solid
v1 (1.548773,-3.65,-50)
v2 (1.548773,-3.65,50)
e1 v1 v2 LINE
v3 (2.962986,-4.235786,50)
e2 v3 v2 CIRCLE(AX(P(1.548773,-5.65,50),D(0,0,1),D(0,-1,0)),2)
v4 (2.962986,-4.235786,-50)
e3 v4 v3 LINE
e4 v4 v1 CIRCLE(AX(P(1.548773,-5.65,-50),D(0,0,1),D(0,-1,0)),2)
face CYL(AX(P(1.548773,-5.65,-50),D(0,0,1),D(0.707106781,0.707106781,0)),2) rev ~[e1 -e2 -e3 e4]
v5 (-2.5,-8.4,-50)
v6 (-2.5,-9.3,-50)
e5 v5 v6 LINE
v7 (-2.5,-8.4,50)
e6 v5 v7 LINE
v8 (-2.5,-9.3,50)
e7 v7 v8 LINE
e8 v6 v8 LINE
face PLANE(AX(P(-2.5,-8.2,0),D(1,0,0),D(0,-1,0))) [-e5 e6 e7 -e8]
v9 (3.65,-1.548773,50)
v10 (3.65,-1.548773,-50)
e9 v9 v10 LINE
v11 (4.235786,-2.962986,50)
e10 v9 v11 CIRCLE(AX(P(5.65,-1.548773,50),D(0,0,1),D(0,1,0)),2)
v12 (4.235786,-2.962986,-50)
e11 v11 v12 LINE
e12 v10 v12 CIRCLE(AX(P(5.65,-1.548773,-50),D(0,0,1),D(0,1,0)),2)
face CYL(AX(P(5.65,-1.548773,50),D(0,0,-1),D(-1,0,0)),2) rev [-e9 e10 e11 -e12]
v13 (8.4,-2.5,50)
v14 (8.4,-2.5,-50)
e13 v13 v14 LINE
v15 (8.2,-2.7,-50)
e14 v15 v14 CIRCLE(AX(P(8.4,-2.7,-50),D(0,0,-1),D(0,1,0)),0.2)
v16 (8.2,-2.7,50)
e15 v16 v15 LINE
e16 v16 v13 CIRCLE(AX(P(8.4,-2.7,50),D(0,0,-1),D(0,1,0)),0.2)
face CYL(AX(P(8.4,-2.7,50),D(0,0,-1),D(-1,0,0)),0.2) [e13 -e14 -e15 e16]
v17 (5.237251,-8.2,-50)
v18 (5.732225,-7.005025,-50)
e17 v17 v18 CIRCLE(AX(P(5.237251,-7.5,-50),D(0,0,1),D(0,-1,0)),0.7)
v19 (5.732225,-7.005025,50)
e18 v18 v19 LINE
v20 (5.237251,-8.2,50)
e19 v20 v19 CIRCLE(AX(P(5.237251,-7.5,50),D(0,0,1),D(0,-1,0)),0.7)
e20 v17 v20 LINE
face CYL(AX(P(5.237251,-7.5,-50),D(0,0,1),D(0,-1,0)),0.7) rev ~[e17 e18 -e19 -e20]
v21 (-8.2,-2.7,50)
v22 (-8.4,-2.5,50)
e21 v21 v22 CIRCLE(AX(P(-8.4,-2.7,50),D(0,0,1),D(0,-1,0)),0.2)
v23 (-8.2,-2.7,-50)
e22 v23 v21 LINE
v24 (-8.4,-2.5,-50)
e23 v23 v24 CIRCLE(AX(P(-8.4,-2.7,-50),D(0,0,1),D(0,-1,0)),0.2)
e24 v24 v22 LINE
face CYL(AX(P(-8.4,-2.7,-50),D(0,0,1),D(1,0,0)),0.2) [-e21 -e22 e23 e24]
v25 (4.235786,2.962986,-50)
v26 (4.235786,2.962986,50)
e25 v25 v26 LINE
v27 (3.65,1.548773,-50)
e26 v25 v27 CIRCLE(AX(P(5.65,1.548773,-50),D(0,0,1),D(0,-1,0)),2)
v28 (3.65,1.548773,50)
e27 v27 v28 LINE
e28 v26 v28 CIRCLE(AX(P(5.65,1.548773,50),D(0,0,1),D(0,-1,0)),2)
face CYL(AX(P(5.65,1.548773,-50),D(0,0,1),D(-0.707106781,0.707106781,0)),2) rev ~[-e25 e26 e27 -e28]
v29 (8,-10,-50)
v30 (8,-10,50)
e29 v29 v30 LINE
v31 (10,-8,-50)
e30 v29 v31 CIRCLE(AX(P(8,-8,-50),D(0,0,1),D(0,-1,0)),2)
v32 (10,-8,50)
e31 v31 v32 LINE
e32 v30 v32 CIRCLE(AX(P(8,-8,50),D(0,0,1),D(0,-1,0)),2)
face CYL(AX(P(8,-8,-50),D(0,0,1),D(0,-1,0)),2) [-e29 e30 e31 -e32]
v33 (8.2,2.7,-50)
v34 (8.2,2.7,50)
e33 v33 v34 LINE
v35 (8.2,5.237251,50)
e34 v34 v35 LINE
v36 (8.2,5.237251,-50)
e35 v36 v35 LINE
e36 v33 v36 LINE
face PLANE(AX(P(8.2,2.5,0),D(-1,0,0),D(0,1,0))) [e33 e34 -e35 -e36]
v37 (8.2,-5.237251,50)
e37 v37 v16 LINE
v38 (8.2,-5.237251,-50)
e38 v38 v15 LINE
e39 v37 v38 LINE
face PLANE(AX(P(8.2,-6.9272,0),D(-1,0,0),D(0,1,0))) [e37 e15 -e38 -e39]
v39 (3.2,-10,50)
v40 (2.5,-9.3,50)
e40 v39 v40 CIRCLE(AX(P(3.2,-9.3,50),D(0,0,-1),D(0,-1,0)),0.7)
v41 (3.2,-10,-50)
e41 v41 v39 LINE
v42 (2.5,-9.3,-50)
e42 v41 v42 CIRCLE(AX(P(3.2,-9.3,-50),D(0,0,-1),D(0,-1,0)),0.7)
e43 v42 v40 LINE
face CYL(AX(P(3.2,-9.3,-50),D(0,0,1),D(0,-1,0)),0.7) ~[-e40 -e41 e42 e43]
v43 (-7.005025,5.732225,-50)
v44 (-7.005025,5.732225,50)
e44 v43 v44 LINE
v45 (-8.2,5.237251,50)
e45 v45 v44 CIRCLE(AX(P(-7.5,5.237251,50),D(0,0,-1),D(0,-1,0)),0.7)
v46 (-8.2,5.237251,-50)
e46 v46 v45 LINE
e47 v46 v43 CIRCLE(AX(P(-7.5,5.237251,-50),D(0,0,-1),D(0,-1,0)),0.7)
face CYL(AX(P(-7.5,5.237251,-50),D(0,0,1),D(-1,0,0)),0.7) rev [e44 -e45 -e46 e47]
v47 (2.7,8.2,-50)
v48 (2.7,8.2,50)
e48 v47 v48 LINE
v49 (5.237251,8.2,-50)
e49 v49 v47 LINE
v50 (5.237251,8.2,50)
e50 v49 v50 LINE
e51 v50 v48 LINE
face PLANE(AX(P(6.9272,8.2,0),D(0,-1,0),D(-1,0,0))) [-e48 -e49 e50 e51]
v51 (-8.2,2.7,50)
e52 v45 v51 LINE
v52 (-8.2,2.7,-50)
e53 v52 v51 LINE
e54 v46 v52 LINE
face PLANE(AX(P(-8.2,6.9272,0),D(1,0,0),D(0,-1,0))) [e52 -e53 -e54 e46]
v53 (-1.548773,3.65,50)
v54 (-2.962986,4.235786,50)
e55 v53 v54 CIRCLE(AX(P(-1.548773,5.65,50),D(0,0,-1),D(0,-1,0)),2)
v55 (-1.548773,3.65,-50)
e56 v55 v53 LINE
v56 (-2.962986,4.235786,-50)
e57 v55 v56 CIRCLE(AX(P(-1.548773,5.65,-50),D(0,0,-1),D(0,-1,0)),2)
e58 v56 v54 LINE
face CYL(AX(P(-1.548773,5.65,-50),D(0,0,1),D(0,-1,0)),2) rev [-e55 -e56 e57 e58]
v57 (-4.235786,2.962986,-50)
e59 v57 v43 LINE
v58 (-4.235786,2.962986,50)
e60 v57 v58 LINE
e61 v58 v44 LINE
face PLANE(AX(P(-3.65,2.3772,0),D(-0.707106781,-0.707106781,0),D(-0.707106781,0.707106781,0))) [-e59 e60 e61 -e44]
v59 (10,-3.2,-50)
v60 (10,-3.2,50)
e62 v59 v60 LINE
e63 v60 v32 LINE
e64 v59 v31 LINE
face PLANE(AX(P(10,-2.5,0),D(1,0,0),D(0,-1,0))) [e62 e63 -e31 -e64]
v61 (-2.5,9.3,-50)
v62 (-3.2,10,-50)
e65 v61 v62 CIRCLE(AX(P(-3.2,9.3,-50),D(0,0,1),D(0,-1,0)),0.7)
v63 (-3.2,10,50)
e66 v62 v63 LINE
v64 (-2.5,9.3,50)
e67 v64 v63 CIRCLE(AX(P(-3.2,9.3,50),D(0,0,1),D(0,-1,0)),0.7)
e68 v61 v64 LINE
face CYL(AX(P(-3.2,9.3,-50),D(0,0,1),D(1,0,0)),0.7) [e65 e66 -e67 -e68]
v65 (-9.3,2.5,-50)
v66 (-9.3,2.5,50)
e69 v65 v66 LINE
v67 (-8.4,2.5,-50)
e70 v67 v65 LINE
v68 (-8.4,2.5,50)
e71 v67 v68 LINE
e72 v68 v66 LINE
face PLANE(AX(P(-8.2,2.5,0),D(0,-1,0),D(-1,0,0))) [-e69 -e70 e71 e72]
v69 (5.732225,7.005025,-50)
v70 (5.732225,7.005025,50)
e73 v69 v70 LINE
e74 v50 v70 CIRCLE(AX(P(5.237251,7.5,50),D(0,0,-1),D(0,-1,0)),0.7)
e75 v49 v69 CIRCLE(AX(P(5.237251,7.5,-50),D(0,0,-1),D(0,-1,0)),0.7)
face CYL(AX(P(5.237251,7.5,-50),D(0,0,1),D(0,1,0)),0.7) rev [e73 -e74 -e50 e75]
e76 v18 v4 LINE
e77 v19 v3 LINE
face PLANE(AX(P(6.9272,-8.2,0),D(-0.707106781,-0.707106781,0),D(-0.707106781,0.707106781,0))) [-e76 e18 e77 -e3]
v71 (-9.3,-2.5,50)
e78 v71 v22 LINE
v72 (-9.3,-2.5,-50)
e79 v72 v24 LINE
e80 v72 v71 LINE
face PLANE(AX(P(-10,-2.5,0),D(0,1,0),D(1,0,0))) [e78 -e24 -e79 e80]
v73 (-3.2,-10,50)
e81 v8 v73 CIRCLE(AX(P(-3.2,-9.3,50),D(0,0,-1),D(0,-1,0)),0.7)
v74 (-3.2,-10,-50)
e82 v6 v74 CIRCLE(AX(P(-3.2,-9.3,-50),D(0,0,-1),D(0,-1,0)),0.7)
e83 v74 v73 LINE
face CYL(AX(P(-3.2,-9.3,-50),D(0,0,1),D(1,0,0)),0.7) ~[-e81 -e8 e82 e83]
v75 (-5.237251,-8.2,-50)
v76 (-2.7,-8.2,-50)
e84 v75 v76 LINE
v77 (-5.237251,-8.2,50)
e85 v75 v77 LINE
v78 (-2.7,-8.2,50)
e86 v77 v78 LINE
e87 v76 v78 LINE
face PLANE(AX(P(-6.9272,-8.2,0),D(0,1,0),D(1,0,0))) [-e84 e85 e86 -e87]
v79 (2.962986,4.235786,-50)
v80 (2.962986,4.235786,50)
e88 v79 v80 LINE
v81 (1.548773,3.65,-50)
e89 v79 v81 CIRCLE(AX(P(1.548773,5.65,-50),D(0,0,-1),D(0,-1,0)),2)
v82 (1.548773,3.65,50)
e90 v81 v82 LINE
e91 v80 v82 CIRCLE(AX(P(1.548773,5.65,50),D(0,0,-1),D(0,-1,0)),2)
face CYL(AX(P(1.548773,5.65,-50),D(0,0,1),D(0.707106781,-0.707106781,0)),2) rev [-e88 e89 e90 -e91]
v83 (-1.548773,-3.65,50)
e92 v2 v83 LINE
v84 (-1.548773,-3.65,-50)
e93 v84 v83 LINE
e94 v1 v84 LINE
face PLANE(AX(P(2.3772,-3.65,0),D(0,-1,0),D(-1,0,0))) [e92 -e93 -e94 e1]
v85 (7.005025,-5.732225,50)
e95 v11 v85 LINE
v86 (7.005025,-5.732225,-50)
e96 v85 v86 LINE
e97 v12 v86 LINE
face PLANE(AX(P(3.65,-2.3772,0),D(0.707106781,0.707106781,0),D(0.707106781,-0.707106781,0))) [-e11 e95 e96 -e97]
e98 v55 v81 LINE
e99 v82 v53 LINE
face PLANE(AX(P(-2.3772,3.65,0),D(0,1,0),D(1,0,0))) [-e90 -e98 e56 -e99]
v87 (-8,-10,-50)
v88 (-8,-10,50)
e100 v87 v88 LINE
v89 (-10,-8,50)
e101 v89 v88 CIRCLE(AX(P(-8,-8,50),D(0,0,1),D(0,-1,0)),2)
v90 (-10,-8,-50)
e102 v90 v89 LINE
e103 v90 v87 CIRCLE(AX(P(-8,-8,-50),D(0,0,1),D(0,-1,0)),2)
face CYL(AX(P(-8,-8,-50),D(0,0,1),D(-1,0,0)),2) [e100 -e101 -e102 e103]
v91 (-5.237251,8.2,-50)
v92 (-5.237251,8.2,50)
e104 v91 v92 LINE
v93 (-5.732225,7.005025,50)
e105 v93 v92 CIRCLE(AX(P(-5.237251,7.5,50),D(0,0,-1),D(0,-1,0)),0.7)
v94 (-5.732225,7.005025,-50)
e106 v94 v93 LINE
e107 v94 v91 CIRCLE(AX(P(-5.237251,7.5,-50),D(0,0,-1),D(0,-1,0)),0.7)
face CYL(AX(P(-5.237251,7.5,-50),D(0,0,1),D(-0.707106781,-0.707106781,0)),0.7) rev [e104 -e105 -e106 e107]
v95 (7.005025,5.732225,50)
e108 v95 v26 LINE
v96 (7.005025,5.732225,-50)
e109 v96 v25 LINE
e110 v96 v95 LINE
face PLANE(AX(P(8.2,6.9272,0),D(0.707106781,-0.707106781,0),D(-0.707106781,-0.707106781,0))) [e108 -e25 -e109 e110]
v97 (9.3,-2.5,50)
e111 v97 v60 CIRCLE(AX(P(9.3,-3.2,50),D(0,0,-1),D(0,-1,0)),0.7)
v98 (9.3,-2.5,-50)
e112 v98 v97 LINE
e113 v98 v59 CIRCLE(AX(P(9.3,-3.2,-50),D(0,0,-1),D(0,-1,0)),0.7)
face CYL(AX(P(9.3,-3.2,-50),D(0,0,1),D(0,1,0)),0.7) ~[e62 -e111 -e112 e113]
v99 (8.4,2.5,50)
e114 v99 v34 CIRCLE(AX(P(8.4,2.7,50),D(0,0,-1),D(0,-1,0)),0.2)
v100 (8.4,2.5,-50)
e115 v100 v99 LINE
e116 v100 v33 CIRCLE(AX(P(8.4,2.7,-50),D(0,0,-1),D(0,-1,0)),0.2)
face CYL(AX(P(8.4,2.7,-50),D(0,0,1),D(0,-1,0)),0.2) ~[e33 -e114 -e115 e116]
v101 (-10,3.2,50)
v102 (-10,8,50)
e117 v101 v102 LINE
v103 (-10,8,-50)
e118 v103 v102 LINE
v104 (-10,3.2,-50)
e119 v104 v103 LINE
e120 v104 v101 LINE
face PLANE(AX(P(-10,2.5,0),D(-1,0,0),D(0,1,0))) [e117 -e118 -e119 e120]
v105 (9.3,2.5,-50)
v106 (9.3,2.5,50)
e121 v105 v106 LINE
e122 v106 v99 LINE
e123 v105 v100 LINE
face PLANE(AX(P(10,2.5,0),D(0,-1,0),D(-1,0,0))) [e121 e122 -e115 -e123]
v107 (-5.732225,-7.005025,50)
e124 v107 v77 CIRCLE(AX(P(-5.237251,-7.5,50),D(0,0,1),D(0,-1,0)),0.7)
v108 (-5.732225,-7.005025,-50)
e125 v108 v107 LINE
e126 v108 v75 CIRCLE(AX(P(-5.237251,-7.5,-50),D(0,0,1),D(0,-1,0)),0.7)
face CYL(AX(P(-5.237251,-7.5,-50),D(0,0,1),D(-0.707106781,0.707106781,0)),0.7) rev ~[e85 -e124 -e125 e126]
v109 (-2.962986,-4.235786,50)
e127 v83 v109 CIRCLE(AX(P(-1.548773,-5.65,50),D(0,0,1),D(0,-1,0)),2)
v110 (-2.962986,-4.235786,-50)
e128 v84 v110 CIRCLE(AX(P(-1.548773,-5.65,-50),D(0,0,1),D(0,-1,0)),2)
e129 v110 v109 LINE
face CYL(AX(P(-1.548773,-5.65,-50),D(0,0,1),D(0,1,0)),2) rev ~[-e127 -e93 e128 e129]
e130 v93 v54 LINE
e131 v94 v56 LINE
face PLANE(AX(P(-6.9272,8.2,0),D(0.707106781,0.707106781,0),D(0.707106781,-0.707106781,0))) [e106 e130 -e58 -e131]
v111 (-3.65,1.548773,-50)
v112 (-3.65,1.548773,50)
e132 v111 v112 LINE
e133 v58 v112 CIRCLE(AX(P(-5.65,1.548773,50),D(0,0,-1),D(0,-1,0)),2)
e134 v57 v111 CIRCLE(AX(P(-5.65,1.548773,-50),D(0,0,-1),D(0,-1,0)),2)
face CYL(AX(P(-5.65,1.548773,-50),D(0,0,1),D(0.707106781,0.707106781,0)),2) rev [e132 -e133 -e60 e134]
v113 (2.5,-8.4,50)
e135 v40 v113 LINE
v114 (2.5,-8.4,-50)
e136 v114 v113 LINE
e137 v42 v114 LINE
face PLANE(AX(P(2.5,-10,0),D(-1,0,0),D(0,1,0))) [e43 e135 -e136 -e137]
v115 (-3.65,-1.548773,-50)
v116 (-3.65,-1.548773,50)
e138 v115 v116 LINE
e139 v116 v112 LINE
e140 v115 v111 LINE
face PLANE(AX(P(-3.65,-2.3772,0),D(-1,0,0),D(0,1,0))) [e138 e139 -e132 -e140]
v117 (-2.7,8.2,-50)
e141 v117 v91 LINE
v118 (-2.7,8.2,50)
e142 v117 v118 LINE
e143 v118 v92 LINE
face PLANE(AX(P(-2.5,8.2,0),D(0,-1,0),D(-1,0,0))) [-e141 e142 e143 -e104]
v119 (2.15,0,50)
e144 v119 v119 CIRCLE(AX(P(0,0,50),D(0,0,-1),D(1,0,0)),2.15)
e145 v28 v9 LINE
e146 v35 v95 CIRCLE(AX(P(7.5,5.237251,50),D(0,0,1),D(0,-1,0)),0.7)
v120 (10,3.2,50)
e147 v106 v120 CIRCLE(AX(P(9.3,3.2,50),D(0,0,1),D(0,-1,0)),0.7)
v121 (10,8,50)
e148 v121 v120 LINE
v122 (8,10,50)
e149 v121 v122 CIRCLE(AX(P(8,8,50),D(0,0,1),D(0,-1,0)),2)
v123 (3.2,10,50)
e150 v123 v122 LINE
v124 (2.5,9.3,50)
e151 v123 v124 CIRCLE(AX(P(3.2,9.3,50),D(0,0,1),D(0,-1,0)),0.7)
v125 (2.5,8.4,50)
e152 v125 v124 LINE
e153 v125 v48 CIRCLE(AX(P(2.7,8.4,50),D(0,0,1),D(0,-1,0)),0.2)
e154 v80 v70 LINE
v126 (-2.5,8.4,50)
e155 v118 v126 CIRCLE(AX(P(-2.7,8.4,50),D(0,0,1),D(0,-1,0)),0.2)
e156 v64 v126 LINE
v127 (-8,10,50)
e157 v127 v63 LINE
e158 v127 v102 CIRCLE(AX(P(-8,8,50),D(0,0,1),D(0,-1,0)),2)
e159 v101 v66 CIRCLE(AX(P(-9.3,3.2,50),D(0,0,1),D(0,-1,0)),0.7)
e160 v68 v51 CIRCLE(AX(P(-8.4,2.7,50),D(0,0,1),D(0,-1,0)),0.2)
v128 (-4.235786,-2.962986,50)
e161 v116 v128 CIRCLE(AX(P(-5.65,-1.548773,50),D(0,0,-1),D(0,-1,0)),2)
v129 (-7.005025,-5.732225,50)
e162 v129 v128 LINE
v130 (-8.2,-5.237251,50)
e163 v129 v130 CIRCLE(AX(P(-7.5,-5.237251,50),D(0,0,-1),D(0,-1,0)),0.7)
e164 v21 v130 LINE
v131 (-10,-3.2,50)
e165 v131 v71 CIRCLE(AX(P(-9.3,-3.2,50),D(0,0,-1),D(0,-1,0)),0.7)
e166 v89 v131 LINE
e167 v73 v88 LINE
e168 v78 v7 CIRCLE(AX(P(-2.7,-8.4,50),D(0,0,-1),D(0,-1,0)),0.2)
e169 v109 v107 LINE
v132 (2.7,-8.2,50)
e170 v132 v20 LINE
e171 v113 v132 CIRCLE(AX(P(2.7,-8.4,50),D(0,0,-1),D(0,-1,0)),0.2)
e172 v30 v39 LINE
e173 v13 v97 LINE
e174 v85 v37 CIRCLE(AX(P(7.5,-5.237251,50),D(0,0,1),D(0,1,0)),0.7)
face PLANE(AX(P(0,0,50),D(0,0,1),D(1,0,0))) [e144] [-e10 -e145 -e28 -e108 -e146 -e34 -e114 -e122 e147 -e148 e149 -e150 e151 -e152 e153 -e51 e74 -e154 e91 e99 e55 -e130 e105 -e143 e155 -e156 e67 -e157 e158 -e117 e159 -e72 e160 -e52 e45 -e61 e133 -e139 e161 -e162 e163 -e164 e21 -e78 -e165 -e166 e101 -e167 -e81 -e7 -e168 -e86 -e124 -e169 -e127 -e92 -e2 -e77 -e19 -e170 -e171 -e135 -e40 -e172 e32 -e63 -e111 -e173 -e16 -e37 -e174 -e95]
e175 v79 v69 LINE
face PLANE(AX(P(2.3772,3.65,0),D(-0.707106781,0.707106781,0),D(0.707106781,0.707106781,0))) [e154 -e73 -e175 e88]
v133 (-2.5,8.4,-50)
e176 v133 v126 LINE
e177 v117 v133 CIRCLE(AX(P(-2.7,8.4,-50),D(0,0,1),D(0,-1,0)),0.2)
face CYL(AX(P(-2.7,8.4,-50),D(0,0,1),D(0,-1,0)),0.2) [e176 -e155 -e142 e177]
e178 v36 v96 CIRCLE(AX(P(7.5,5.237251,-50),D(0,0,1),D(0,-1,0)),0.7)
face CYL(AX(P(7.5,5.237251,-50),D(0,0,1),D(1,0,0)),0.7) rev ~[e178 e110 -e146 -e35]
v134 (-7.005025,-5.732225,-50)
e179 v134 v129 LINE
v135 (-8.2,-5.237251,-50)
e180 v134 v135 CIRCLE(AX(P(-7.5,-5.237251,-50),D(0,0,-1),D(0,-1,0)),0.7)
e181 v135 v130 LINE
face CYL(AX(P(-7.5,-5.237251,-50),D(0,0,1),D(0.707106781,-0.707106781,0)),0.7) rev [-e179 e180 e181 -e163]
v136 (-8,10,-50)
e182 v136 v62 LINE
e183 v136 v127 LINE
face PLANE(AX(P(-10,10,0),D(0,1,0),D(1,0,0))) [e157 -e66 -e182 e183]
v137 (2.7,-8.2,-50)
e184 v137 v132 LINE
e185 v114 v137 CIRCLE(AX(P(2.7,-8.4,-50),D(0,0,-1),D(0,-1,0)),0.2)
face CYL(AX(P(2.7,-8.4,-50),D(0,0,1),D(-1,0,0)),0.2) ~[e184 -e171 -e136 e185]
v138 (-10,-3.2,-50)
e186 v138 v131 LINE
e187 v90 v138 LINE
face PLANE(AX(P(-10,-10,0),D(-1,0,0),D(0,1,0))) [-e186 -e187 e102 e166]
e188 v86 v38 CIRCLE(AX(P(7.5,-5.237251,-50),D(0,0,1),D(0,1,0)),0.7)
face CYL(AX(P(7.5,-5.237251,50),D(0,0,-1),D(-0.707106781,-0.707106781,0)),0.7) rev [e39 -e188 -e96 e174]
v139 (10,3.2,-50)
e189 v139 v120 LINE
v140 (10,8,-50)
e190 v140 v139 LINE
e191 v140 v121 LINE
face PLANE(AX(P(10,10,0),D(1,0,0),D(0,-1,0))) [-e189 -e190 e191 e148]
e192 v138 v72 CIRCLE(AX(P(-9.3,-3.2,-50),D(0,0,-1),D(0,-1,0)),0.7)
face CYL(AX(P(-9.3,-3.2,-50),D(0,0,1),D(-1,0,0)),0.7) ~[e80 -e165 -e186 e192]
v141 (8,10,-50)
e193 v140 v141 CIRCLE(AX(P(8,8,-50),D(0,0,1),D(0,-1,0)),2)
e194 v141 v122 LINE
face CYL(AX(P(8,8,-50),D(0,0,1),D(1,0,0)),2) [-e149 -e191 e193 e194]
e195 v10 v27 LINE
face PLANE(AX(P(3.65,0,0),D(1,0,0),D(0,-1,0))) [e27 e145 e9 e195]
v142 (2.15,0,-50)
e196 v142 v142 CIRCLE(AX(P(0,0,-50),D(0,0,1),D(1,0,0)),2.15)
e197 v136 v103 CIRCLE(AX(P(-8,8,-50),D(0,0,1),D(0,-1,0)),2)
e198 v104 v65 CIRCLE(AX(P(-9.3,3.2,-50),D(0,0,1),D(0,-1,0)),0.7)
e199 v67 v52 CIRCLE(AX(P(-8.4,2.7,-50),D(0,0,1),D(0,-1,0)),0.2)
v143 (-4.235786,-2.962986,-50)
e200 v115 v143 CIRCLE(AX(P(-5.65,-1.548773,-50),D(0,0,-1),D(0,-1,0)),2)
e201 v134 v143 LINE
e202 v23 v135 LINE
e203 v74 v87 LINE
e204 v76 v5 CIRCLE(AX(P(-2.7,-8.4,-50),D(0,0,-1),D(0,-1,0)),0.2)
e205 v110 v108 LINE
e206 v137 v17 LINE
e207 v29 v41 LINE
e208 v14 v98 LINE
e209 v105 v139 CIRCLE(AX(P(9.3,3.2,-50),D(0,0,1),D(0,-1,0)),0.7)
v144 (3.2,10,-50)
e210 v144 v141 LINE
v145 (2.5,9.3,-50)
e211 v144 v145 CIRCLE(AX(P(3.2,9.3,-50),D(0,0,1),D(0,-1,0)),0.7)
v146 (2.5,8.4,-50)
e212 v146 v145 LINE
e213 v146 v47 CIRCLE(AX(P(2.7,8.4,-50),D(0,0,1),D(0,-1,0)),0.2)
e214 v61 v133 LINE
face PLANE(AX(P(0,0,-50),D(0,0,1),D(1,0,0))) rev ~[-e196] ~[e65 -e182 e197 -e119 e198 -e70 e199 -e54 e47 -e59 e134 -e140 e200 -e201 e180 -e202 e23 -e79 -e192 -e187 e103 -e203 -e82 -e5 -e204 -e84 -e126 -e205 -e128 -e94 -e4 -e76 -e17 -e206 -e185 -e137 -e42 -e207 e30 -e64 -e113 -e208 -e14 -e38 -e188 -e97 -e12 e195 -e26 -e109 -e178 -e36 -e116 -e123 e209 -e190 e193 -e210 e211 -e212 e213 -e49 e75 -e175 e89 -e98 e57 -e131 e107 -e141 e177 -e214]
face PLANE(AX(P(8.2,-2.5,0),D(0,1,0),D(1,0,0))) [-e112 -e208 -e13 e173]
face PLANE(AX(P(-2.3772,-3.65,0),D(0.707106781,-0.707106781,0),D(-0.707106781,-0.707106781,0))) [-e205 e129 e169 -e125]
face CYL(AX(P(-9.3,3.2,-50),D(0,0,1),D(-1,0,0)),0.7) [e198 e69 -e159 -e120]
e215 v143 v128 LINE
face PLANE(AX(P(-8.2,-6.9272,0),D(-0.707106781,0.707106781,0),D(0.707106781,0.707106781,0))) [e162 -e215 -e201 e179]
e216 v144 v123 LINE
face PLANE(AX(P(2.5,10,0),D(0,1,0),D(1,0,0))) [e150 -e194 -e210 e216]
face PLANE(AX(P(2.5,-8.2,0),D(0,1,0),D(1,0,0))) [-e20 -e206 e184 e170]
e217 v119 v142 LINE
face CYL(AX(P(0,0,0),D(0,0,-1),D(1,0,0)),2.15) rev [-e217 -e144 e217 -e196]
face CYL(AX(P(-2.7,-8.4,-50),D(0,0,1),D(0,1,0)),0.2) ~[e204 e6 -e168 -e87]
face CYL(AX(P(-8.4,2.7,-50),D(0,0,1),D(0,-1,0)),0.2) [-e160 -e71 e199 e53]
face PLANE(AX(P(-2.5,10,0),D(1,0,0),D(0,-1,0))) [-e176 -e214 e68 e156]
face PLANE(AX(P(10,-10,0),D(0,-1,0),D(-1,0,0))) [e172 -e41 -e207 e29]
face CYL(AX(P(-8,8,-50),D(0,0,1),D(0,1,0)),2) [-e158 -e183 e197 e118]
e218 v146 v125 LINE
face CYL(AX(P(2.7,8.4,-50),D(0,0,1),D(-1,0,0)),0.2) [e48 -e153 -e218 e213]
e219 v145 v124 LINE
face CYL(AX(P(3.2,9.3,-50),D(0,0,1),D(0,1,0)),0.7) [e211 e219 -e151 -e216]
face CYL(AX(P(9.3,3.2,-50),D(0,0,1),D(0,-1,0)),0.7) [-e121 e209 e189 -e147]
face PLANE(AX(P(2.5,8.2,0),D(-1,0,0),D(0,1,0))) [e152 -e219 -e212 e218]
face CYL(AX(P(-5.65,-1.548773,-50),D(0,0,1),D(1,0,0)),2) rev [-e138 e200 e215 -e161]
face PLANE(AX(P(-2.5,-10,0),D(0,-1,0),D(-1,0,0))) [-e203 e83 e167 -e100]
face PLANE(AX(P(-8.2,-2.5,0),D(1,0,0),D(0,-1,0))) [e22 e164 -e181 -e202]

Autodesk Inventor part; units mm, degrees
ref_plane "YZ Plane" through (0, 0, 0) normal (1, 0, 0) x (0, 1, 0)
ref_plane "XZ Plane" through (0, 0, 0) normal (0, 1, 0) x (-1, 0, 0)
ref_plane "XY Plane" through (0, 0, 0) normal (0, 0, 1) x (1, 0, 0)
sketch "Sketch1" plane through (0, 0, 0) normal (0, 0, 1) x (1, 0, 0)
  circle A0 centre (0, 0) radius 2.15
  line L0 (-10, 10) -> (-2.5, 10)
  line L1 (-2.5, 10) -> (-2.5, 8.2)
  line L2 (-2.5, 8.2) -> (-6.9272, 8.2)
  line L3 (-6.9272, 8.2) -> (-2.3772, 3.65)
  line L4 (-2.3772, 3.65) -> (2.3772, 3.65)
  line L5 (2.3772, 3.65) -> (6.9272, 8.2)
  line L6 (6.9272, 8.2) -> (2.5, 8.2)
  line L7 (2.5, 8.2) -> (2.5, 10)
  line L8 (2.5, 10) -> (10, 10)
  line L9 (10, 10) -> (10, 2.5)
  line L10 (10, 2.5) -> (8.2, 2.5)
  line L11 (8.2, 2.5) -> (8.2, 6.9272)
  line L12 (8.2, 6.9272) -> (3.65, 2.3772)
  line L13 (3.65, 2.3772) -> (3.65, -2.3772)
  line L14 (3.65, -2.3772) -> (8.2, -6.9272)
  line L15 (8.2, -6.9272) -> (8.2, -2.5)
  line L16 (8.2, -2.5) -> (10, -2.5)
  line L17 (10, -2.5) -> (10, -10)
  line L18 (10, -10) -> (2.5, -10)
  line L19 (2.5, -10) -> (2.5, -8.2)
  line L20 (2.5, -8.2) -> (6.9272, -8.2)
  line L21 (6.9272, -8.2) -> (2.3772, -3.65)
  line L22 (2.3772, -3.65) -> (-2.3772, -3.65)
  line L23 (-2.3772, -3.65) -> (-6.9272, -8.2)
  line L24 (-6.9272, -8.2) -> (-2.5, -8.2)
  line L25 (-2.5, -8.2) -> (-2.5, -10)
  line L26 (-2.5, -10) -> (-10, -10)
  line L27 (-10, -10) -> (-10, -2.5)
  line L28 (-10, -2.5) -> (-8.2, -2.5)
  line L29 (-8.2, -2.5) -> (-8.2, -6.9272)
  line L30 (-8.2, -6.9272) -> (-3.65, -2.3772)
  line L31 (-3.65, -2.3772) -> (-3.65, 2.3772)
  line L32 (-3.65, 2.3772) -> (-8.2, 6.9272)
  line L33 (-8.2, 6.9272) -> (-8.2, 2.5)
  line L34 (-8.2, 2.5) -> (-10, 2.5)
  line L35 (-10, 2.5) -> (-10, 10)
  line L36 (0, 0) -> (-30.8654, 30.8654)
  line L37 (0, 0) -> (30.8654, 30.8654)
  line L38 (0, 0) -> (42.5392, 0)
  line L39 (0, 0) -> (0, 44.3419)
  dimension "d0" = 45
  dimension "d1" = 90
  dimension "Breite" = 20
  dimension "Tiefe_Schiene" = 6.35
  dimension "d2" = 1.8
  dimension "Durchmesser_Loch" = 4.3
  dimension "Wandstaerke" = 1.8
  dimension "d3" = 1.8
  dimension "Breite_Schiene" = 5
  dimension "d4" = 5
extrude "Extrusion1" add sketch "Sketch1" along normal mid plane 100 contours L38 L13 L14 L15 L16 L17 L18 L19 L20 L21 L22 L23 L24 L25 L26 L27 L28 L29 L30 L31 L32 L33 L34 L35 L36 A0 | A0 L37 L9 L10 L11 L12 L13 L38 | A0 L39 L4 L5 L6 L7 L8 L37 | L36 L0 L1 L2 L3 L4 L39 A0
fillet "Fillet1" radius 2 4 edges at (10, 10, 0) (-10, 10, 0) (10, -10, 0) (-10, -10, 0)
fillet "Fillet2" radius 0.2 8 edges at (-2.5, 8.2, 0) (2.5, 8.2, 0) (8.2, 2.5, 0) (8.2, -2.5, 0) (-2.5, -8.2, 0) (-8.2, -2.5, 0) (-8.2, 2.5, 0) (2.5, -8.2, 0)
fillet "Fillet3" radius 0.7 16 edges at (-2.5, 10, 0) (2.5, 10, 0) (10, 2.5, 0) (10, -2.5, 0) (2.5, -10, 0) (-2.5, -10, 0) (-10, -2.5, 0) (-10, 2.5, 0) (-6.9272, -8.2, 0) (-8.2, -6.9272, 0) (6.9272, -8.2, 0) (8.2, -6.9272, 0) (8.2, 6.9272, 0) (6.9272, 8.2, 0) (-6.9272, 8.2, 0) (-8.2, 6.9272, 0)
fillet "Fillet4" radius 2 8 edges at (-3.65, 2.3772, 0) (-2.3772, 3.65, 0) (2.3772, 3.65, 0) (3.65, 2.3772, 0) (3.65, -2.3772, 0) (2.3772, -3.65, 0) (-2.3772, -3.65, 0) (-3.65, -2.3772, 0)
equation "\"d2\" = Wandstaerke"
equation "\"d3\" = Wandstaerke"
equation "\"d4\" = Breite_Schiene"
properties part number "503.015.01_ITEM_20x20_100mm"
